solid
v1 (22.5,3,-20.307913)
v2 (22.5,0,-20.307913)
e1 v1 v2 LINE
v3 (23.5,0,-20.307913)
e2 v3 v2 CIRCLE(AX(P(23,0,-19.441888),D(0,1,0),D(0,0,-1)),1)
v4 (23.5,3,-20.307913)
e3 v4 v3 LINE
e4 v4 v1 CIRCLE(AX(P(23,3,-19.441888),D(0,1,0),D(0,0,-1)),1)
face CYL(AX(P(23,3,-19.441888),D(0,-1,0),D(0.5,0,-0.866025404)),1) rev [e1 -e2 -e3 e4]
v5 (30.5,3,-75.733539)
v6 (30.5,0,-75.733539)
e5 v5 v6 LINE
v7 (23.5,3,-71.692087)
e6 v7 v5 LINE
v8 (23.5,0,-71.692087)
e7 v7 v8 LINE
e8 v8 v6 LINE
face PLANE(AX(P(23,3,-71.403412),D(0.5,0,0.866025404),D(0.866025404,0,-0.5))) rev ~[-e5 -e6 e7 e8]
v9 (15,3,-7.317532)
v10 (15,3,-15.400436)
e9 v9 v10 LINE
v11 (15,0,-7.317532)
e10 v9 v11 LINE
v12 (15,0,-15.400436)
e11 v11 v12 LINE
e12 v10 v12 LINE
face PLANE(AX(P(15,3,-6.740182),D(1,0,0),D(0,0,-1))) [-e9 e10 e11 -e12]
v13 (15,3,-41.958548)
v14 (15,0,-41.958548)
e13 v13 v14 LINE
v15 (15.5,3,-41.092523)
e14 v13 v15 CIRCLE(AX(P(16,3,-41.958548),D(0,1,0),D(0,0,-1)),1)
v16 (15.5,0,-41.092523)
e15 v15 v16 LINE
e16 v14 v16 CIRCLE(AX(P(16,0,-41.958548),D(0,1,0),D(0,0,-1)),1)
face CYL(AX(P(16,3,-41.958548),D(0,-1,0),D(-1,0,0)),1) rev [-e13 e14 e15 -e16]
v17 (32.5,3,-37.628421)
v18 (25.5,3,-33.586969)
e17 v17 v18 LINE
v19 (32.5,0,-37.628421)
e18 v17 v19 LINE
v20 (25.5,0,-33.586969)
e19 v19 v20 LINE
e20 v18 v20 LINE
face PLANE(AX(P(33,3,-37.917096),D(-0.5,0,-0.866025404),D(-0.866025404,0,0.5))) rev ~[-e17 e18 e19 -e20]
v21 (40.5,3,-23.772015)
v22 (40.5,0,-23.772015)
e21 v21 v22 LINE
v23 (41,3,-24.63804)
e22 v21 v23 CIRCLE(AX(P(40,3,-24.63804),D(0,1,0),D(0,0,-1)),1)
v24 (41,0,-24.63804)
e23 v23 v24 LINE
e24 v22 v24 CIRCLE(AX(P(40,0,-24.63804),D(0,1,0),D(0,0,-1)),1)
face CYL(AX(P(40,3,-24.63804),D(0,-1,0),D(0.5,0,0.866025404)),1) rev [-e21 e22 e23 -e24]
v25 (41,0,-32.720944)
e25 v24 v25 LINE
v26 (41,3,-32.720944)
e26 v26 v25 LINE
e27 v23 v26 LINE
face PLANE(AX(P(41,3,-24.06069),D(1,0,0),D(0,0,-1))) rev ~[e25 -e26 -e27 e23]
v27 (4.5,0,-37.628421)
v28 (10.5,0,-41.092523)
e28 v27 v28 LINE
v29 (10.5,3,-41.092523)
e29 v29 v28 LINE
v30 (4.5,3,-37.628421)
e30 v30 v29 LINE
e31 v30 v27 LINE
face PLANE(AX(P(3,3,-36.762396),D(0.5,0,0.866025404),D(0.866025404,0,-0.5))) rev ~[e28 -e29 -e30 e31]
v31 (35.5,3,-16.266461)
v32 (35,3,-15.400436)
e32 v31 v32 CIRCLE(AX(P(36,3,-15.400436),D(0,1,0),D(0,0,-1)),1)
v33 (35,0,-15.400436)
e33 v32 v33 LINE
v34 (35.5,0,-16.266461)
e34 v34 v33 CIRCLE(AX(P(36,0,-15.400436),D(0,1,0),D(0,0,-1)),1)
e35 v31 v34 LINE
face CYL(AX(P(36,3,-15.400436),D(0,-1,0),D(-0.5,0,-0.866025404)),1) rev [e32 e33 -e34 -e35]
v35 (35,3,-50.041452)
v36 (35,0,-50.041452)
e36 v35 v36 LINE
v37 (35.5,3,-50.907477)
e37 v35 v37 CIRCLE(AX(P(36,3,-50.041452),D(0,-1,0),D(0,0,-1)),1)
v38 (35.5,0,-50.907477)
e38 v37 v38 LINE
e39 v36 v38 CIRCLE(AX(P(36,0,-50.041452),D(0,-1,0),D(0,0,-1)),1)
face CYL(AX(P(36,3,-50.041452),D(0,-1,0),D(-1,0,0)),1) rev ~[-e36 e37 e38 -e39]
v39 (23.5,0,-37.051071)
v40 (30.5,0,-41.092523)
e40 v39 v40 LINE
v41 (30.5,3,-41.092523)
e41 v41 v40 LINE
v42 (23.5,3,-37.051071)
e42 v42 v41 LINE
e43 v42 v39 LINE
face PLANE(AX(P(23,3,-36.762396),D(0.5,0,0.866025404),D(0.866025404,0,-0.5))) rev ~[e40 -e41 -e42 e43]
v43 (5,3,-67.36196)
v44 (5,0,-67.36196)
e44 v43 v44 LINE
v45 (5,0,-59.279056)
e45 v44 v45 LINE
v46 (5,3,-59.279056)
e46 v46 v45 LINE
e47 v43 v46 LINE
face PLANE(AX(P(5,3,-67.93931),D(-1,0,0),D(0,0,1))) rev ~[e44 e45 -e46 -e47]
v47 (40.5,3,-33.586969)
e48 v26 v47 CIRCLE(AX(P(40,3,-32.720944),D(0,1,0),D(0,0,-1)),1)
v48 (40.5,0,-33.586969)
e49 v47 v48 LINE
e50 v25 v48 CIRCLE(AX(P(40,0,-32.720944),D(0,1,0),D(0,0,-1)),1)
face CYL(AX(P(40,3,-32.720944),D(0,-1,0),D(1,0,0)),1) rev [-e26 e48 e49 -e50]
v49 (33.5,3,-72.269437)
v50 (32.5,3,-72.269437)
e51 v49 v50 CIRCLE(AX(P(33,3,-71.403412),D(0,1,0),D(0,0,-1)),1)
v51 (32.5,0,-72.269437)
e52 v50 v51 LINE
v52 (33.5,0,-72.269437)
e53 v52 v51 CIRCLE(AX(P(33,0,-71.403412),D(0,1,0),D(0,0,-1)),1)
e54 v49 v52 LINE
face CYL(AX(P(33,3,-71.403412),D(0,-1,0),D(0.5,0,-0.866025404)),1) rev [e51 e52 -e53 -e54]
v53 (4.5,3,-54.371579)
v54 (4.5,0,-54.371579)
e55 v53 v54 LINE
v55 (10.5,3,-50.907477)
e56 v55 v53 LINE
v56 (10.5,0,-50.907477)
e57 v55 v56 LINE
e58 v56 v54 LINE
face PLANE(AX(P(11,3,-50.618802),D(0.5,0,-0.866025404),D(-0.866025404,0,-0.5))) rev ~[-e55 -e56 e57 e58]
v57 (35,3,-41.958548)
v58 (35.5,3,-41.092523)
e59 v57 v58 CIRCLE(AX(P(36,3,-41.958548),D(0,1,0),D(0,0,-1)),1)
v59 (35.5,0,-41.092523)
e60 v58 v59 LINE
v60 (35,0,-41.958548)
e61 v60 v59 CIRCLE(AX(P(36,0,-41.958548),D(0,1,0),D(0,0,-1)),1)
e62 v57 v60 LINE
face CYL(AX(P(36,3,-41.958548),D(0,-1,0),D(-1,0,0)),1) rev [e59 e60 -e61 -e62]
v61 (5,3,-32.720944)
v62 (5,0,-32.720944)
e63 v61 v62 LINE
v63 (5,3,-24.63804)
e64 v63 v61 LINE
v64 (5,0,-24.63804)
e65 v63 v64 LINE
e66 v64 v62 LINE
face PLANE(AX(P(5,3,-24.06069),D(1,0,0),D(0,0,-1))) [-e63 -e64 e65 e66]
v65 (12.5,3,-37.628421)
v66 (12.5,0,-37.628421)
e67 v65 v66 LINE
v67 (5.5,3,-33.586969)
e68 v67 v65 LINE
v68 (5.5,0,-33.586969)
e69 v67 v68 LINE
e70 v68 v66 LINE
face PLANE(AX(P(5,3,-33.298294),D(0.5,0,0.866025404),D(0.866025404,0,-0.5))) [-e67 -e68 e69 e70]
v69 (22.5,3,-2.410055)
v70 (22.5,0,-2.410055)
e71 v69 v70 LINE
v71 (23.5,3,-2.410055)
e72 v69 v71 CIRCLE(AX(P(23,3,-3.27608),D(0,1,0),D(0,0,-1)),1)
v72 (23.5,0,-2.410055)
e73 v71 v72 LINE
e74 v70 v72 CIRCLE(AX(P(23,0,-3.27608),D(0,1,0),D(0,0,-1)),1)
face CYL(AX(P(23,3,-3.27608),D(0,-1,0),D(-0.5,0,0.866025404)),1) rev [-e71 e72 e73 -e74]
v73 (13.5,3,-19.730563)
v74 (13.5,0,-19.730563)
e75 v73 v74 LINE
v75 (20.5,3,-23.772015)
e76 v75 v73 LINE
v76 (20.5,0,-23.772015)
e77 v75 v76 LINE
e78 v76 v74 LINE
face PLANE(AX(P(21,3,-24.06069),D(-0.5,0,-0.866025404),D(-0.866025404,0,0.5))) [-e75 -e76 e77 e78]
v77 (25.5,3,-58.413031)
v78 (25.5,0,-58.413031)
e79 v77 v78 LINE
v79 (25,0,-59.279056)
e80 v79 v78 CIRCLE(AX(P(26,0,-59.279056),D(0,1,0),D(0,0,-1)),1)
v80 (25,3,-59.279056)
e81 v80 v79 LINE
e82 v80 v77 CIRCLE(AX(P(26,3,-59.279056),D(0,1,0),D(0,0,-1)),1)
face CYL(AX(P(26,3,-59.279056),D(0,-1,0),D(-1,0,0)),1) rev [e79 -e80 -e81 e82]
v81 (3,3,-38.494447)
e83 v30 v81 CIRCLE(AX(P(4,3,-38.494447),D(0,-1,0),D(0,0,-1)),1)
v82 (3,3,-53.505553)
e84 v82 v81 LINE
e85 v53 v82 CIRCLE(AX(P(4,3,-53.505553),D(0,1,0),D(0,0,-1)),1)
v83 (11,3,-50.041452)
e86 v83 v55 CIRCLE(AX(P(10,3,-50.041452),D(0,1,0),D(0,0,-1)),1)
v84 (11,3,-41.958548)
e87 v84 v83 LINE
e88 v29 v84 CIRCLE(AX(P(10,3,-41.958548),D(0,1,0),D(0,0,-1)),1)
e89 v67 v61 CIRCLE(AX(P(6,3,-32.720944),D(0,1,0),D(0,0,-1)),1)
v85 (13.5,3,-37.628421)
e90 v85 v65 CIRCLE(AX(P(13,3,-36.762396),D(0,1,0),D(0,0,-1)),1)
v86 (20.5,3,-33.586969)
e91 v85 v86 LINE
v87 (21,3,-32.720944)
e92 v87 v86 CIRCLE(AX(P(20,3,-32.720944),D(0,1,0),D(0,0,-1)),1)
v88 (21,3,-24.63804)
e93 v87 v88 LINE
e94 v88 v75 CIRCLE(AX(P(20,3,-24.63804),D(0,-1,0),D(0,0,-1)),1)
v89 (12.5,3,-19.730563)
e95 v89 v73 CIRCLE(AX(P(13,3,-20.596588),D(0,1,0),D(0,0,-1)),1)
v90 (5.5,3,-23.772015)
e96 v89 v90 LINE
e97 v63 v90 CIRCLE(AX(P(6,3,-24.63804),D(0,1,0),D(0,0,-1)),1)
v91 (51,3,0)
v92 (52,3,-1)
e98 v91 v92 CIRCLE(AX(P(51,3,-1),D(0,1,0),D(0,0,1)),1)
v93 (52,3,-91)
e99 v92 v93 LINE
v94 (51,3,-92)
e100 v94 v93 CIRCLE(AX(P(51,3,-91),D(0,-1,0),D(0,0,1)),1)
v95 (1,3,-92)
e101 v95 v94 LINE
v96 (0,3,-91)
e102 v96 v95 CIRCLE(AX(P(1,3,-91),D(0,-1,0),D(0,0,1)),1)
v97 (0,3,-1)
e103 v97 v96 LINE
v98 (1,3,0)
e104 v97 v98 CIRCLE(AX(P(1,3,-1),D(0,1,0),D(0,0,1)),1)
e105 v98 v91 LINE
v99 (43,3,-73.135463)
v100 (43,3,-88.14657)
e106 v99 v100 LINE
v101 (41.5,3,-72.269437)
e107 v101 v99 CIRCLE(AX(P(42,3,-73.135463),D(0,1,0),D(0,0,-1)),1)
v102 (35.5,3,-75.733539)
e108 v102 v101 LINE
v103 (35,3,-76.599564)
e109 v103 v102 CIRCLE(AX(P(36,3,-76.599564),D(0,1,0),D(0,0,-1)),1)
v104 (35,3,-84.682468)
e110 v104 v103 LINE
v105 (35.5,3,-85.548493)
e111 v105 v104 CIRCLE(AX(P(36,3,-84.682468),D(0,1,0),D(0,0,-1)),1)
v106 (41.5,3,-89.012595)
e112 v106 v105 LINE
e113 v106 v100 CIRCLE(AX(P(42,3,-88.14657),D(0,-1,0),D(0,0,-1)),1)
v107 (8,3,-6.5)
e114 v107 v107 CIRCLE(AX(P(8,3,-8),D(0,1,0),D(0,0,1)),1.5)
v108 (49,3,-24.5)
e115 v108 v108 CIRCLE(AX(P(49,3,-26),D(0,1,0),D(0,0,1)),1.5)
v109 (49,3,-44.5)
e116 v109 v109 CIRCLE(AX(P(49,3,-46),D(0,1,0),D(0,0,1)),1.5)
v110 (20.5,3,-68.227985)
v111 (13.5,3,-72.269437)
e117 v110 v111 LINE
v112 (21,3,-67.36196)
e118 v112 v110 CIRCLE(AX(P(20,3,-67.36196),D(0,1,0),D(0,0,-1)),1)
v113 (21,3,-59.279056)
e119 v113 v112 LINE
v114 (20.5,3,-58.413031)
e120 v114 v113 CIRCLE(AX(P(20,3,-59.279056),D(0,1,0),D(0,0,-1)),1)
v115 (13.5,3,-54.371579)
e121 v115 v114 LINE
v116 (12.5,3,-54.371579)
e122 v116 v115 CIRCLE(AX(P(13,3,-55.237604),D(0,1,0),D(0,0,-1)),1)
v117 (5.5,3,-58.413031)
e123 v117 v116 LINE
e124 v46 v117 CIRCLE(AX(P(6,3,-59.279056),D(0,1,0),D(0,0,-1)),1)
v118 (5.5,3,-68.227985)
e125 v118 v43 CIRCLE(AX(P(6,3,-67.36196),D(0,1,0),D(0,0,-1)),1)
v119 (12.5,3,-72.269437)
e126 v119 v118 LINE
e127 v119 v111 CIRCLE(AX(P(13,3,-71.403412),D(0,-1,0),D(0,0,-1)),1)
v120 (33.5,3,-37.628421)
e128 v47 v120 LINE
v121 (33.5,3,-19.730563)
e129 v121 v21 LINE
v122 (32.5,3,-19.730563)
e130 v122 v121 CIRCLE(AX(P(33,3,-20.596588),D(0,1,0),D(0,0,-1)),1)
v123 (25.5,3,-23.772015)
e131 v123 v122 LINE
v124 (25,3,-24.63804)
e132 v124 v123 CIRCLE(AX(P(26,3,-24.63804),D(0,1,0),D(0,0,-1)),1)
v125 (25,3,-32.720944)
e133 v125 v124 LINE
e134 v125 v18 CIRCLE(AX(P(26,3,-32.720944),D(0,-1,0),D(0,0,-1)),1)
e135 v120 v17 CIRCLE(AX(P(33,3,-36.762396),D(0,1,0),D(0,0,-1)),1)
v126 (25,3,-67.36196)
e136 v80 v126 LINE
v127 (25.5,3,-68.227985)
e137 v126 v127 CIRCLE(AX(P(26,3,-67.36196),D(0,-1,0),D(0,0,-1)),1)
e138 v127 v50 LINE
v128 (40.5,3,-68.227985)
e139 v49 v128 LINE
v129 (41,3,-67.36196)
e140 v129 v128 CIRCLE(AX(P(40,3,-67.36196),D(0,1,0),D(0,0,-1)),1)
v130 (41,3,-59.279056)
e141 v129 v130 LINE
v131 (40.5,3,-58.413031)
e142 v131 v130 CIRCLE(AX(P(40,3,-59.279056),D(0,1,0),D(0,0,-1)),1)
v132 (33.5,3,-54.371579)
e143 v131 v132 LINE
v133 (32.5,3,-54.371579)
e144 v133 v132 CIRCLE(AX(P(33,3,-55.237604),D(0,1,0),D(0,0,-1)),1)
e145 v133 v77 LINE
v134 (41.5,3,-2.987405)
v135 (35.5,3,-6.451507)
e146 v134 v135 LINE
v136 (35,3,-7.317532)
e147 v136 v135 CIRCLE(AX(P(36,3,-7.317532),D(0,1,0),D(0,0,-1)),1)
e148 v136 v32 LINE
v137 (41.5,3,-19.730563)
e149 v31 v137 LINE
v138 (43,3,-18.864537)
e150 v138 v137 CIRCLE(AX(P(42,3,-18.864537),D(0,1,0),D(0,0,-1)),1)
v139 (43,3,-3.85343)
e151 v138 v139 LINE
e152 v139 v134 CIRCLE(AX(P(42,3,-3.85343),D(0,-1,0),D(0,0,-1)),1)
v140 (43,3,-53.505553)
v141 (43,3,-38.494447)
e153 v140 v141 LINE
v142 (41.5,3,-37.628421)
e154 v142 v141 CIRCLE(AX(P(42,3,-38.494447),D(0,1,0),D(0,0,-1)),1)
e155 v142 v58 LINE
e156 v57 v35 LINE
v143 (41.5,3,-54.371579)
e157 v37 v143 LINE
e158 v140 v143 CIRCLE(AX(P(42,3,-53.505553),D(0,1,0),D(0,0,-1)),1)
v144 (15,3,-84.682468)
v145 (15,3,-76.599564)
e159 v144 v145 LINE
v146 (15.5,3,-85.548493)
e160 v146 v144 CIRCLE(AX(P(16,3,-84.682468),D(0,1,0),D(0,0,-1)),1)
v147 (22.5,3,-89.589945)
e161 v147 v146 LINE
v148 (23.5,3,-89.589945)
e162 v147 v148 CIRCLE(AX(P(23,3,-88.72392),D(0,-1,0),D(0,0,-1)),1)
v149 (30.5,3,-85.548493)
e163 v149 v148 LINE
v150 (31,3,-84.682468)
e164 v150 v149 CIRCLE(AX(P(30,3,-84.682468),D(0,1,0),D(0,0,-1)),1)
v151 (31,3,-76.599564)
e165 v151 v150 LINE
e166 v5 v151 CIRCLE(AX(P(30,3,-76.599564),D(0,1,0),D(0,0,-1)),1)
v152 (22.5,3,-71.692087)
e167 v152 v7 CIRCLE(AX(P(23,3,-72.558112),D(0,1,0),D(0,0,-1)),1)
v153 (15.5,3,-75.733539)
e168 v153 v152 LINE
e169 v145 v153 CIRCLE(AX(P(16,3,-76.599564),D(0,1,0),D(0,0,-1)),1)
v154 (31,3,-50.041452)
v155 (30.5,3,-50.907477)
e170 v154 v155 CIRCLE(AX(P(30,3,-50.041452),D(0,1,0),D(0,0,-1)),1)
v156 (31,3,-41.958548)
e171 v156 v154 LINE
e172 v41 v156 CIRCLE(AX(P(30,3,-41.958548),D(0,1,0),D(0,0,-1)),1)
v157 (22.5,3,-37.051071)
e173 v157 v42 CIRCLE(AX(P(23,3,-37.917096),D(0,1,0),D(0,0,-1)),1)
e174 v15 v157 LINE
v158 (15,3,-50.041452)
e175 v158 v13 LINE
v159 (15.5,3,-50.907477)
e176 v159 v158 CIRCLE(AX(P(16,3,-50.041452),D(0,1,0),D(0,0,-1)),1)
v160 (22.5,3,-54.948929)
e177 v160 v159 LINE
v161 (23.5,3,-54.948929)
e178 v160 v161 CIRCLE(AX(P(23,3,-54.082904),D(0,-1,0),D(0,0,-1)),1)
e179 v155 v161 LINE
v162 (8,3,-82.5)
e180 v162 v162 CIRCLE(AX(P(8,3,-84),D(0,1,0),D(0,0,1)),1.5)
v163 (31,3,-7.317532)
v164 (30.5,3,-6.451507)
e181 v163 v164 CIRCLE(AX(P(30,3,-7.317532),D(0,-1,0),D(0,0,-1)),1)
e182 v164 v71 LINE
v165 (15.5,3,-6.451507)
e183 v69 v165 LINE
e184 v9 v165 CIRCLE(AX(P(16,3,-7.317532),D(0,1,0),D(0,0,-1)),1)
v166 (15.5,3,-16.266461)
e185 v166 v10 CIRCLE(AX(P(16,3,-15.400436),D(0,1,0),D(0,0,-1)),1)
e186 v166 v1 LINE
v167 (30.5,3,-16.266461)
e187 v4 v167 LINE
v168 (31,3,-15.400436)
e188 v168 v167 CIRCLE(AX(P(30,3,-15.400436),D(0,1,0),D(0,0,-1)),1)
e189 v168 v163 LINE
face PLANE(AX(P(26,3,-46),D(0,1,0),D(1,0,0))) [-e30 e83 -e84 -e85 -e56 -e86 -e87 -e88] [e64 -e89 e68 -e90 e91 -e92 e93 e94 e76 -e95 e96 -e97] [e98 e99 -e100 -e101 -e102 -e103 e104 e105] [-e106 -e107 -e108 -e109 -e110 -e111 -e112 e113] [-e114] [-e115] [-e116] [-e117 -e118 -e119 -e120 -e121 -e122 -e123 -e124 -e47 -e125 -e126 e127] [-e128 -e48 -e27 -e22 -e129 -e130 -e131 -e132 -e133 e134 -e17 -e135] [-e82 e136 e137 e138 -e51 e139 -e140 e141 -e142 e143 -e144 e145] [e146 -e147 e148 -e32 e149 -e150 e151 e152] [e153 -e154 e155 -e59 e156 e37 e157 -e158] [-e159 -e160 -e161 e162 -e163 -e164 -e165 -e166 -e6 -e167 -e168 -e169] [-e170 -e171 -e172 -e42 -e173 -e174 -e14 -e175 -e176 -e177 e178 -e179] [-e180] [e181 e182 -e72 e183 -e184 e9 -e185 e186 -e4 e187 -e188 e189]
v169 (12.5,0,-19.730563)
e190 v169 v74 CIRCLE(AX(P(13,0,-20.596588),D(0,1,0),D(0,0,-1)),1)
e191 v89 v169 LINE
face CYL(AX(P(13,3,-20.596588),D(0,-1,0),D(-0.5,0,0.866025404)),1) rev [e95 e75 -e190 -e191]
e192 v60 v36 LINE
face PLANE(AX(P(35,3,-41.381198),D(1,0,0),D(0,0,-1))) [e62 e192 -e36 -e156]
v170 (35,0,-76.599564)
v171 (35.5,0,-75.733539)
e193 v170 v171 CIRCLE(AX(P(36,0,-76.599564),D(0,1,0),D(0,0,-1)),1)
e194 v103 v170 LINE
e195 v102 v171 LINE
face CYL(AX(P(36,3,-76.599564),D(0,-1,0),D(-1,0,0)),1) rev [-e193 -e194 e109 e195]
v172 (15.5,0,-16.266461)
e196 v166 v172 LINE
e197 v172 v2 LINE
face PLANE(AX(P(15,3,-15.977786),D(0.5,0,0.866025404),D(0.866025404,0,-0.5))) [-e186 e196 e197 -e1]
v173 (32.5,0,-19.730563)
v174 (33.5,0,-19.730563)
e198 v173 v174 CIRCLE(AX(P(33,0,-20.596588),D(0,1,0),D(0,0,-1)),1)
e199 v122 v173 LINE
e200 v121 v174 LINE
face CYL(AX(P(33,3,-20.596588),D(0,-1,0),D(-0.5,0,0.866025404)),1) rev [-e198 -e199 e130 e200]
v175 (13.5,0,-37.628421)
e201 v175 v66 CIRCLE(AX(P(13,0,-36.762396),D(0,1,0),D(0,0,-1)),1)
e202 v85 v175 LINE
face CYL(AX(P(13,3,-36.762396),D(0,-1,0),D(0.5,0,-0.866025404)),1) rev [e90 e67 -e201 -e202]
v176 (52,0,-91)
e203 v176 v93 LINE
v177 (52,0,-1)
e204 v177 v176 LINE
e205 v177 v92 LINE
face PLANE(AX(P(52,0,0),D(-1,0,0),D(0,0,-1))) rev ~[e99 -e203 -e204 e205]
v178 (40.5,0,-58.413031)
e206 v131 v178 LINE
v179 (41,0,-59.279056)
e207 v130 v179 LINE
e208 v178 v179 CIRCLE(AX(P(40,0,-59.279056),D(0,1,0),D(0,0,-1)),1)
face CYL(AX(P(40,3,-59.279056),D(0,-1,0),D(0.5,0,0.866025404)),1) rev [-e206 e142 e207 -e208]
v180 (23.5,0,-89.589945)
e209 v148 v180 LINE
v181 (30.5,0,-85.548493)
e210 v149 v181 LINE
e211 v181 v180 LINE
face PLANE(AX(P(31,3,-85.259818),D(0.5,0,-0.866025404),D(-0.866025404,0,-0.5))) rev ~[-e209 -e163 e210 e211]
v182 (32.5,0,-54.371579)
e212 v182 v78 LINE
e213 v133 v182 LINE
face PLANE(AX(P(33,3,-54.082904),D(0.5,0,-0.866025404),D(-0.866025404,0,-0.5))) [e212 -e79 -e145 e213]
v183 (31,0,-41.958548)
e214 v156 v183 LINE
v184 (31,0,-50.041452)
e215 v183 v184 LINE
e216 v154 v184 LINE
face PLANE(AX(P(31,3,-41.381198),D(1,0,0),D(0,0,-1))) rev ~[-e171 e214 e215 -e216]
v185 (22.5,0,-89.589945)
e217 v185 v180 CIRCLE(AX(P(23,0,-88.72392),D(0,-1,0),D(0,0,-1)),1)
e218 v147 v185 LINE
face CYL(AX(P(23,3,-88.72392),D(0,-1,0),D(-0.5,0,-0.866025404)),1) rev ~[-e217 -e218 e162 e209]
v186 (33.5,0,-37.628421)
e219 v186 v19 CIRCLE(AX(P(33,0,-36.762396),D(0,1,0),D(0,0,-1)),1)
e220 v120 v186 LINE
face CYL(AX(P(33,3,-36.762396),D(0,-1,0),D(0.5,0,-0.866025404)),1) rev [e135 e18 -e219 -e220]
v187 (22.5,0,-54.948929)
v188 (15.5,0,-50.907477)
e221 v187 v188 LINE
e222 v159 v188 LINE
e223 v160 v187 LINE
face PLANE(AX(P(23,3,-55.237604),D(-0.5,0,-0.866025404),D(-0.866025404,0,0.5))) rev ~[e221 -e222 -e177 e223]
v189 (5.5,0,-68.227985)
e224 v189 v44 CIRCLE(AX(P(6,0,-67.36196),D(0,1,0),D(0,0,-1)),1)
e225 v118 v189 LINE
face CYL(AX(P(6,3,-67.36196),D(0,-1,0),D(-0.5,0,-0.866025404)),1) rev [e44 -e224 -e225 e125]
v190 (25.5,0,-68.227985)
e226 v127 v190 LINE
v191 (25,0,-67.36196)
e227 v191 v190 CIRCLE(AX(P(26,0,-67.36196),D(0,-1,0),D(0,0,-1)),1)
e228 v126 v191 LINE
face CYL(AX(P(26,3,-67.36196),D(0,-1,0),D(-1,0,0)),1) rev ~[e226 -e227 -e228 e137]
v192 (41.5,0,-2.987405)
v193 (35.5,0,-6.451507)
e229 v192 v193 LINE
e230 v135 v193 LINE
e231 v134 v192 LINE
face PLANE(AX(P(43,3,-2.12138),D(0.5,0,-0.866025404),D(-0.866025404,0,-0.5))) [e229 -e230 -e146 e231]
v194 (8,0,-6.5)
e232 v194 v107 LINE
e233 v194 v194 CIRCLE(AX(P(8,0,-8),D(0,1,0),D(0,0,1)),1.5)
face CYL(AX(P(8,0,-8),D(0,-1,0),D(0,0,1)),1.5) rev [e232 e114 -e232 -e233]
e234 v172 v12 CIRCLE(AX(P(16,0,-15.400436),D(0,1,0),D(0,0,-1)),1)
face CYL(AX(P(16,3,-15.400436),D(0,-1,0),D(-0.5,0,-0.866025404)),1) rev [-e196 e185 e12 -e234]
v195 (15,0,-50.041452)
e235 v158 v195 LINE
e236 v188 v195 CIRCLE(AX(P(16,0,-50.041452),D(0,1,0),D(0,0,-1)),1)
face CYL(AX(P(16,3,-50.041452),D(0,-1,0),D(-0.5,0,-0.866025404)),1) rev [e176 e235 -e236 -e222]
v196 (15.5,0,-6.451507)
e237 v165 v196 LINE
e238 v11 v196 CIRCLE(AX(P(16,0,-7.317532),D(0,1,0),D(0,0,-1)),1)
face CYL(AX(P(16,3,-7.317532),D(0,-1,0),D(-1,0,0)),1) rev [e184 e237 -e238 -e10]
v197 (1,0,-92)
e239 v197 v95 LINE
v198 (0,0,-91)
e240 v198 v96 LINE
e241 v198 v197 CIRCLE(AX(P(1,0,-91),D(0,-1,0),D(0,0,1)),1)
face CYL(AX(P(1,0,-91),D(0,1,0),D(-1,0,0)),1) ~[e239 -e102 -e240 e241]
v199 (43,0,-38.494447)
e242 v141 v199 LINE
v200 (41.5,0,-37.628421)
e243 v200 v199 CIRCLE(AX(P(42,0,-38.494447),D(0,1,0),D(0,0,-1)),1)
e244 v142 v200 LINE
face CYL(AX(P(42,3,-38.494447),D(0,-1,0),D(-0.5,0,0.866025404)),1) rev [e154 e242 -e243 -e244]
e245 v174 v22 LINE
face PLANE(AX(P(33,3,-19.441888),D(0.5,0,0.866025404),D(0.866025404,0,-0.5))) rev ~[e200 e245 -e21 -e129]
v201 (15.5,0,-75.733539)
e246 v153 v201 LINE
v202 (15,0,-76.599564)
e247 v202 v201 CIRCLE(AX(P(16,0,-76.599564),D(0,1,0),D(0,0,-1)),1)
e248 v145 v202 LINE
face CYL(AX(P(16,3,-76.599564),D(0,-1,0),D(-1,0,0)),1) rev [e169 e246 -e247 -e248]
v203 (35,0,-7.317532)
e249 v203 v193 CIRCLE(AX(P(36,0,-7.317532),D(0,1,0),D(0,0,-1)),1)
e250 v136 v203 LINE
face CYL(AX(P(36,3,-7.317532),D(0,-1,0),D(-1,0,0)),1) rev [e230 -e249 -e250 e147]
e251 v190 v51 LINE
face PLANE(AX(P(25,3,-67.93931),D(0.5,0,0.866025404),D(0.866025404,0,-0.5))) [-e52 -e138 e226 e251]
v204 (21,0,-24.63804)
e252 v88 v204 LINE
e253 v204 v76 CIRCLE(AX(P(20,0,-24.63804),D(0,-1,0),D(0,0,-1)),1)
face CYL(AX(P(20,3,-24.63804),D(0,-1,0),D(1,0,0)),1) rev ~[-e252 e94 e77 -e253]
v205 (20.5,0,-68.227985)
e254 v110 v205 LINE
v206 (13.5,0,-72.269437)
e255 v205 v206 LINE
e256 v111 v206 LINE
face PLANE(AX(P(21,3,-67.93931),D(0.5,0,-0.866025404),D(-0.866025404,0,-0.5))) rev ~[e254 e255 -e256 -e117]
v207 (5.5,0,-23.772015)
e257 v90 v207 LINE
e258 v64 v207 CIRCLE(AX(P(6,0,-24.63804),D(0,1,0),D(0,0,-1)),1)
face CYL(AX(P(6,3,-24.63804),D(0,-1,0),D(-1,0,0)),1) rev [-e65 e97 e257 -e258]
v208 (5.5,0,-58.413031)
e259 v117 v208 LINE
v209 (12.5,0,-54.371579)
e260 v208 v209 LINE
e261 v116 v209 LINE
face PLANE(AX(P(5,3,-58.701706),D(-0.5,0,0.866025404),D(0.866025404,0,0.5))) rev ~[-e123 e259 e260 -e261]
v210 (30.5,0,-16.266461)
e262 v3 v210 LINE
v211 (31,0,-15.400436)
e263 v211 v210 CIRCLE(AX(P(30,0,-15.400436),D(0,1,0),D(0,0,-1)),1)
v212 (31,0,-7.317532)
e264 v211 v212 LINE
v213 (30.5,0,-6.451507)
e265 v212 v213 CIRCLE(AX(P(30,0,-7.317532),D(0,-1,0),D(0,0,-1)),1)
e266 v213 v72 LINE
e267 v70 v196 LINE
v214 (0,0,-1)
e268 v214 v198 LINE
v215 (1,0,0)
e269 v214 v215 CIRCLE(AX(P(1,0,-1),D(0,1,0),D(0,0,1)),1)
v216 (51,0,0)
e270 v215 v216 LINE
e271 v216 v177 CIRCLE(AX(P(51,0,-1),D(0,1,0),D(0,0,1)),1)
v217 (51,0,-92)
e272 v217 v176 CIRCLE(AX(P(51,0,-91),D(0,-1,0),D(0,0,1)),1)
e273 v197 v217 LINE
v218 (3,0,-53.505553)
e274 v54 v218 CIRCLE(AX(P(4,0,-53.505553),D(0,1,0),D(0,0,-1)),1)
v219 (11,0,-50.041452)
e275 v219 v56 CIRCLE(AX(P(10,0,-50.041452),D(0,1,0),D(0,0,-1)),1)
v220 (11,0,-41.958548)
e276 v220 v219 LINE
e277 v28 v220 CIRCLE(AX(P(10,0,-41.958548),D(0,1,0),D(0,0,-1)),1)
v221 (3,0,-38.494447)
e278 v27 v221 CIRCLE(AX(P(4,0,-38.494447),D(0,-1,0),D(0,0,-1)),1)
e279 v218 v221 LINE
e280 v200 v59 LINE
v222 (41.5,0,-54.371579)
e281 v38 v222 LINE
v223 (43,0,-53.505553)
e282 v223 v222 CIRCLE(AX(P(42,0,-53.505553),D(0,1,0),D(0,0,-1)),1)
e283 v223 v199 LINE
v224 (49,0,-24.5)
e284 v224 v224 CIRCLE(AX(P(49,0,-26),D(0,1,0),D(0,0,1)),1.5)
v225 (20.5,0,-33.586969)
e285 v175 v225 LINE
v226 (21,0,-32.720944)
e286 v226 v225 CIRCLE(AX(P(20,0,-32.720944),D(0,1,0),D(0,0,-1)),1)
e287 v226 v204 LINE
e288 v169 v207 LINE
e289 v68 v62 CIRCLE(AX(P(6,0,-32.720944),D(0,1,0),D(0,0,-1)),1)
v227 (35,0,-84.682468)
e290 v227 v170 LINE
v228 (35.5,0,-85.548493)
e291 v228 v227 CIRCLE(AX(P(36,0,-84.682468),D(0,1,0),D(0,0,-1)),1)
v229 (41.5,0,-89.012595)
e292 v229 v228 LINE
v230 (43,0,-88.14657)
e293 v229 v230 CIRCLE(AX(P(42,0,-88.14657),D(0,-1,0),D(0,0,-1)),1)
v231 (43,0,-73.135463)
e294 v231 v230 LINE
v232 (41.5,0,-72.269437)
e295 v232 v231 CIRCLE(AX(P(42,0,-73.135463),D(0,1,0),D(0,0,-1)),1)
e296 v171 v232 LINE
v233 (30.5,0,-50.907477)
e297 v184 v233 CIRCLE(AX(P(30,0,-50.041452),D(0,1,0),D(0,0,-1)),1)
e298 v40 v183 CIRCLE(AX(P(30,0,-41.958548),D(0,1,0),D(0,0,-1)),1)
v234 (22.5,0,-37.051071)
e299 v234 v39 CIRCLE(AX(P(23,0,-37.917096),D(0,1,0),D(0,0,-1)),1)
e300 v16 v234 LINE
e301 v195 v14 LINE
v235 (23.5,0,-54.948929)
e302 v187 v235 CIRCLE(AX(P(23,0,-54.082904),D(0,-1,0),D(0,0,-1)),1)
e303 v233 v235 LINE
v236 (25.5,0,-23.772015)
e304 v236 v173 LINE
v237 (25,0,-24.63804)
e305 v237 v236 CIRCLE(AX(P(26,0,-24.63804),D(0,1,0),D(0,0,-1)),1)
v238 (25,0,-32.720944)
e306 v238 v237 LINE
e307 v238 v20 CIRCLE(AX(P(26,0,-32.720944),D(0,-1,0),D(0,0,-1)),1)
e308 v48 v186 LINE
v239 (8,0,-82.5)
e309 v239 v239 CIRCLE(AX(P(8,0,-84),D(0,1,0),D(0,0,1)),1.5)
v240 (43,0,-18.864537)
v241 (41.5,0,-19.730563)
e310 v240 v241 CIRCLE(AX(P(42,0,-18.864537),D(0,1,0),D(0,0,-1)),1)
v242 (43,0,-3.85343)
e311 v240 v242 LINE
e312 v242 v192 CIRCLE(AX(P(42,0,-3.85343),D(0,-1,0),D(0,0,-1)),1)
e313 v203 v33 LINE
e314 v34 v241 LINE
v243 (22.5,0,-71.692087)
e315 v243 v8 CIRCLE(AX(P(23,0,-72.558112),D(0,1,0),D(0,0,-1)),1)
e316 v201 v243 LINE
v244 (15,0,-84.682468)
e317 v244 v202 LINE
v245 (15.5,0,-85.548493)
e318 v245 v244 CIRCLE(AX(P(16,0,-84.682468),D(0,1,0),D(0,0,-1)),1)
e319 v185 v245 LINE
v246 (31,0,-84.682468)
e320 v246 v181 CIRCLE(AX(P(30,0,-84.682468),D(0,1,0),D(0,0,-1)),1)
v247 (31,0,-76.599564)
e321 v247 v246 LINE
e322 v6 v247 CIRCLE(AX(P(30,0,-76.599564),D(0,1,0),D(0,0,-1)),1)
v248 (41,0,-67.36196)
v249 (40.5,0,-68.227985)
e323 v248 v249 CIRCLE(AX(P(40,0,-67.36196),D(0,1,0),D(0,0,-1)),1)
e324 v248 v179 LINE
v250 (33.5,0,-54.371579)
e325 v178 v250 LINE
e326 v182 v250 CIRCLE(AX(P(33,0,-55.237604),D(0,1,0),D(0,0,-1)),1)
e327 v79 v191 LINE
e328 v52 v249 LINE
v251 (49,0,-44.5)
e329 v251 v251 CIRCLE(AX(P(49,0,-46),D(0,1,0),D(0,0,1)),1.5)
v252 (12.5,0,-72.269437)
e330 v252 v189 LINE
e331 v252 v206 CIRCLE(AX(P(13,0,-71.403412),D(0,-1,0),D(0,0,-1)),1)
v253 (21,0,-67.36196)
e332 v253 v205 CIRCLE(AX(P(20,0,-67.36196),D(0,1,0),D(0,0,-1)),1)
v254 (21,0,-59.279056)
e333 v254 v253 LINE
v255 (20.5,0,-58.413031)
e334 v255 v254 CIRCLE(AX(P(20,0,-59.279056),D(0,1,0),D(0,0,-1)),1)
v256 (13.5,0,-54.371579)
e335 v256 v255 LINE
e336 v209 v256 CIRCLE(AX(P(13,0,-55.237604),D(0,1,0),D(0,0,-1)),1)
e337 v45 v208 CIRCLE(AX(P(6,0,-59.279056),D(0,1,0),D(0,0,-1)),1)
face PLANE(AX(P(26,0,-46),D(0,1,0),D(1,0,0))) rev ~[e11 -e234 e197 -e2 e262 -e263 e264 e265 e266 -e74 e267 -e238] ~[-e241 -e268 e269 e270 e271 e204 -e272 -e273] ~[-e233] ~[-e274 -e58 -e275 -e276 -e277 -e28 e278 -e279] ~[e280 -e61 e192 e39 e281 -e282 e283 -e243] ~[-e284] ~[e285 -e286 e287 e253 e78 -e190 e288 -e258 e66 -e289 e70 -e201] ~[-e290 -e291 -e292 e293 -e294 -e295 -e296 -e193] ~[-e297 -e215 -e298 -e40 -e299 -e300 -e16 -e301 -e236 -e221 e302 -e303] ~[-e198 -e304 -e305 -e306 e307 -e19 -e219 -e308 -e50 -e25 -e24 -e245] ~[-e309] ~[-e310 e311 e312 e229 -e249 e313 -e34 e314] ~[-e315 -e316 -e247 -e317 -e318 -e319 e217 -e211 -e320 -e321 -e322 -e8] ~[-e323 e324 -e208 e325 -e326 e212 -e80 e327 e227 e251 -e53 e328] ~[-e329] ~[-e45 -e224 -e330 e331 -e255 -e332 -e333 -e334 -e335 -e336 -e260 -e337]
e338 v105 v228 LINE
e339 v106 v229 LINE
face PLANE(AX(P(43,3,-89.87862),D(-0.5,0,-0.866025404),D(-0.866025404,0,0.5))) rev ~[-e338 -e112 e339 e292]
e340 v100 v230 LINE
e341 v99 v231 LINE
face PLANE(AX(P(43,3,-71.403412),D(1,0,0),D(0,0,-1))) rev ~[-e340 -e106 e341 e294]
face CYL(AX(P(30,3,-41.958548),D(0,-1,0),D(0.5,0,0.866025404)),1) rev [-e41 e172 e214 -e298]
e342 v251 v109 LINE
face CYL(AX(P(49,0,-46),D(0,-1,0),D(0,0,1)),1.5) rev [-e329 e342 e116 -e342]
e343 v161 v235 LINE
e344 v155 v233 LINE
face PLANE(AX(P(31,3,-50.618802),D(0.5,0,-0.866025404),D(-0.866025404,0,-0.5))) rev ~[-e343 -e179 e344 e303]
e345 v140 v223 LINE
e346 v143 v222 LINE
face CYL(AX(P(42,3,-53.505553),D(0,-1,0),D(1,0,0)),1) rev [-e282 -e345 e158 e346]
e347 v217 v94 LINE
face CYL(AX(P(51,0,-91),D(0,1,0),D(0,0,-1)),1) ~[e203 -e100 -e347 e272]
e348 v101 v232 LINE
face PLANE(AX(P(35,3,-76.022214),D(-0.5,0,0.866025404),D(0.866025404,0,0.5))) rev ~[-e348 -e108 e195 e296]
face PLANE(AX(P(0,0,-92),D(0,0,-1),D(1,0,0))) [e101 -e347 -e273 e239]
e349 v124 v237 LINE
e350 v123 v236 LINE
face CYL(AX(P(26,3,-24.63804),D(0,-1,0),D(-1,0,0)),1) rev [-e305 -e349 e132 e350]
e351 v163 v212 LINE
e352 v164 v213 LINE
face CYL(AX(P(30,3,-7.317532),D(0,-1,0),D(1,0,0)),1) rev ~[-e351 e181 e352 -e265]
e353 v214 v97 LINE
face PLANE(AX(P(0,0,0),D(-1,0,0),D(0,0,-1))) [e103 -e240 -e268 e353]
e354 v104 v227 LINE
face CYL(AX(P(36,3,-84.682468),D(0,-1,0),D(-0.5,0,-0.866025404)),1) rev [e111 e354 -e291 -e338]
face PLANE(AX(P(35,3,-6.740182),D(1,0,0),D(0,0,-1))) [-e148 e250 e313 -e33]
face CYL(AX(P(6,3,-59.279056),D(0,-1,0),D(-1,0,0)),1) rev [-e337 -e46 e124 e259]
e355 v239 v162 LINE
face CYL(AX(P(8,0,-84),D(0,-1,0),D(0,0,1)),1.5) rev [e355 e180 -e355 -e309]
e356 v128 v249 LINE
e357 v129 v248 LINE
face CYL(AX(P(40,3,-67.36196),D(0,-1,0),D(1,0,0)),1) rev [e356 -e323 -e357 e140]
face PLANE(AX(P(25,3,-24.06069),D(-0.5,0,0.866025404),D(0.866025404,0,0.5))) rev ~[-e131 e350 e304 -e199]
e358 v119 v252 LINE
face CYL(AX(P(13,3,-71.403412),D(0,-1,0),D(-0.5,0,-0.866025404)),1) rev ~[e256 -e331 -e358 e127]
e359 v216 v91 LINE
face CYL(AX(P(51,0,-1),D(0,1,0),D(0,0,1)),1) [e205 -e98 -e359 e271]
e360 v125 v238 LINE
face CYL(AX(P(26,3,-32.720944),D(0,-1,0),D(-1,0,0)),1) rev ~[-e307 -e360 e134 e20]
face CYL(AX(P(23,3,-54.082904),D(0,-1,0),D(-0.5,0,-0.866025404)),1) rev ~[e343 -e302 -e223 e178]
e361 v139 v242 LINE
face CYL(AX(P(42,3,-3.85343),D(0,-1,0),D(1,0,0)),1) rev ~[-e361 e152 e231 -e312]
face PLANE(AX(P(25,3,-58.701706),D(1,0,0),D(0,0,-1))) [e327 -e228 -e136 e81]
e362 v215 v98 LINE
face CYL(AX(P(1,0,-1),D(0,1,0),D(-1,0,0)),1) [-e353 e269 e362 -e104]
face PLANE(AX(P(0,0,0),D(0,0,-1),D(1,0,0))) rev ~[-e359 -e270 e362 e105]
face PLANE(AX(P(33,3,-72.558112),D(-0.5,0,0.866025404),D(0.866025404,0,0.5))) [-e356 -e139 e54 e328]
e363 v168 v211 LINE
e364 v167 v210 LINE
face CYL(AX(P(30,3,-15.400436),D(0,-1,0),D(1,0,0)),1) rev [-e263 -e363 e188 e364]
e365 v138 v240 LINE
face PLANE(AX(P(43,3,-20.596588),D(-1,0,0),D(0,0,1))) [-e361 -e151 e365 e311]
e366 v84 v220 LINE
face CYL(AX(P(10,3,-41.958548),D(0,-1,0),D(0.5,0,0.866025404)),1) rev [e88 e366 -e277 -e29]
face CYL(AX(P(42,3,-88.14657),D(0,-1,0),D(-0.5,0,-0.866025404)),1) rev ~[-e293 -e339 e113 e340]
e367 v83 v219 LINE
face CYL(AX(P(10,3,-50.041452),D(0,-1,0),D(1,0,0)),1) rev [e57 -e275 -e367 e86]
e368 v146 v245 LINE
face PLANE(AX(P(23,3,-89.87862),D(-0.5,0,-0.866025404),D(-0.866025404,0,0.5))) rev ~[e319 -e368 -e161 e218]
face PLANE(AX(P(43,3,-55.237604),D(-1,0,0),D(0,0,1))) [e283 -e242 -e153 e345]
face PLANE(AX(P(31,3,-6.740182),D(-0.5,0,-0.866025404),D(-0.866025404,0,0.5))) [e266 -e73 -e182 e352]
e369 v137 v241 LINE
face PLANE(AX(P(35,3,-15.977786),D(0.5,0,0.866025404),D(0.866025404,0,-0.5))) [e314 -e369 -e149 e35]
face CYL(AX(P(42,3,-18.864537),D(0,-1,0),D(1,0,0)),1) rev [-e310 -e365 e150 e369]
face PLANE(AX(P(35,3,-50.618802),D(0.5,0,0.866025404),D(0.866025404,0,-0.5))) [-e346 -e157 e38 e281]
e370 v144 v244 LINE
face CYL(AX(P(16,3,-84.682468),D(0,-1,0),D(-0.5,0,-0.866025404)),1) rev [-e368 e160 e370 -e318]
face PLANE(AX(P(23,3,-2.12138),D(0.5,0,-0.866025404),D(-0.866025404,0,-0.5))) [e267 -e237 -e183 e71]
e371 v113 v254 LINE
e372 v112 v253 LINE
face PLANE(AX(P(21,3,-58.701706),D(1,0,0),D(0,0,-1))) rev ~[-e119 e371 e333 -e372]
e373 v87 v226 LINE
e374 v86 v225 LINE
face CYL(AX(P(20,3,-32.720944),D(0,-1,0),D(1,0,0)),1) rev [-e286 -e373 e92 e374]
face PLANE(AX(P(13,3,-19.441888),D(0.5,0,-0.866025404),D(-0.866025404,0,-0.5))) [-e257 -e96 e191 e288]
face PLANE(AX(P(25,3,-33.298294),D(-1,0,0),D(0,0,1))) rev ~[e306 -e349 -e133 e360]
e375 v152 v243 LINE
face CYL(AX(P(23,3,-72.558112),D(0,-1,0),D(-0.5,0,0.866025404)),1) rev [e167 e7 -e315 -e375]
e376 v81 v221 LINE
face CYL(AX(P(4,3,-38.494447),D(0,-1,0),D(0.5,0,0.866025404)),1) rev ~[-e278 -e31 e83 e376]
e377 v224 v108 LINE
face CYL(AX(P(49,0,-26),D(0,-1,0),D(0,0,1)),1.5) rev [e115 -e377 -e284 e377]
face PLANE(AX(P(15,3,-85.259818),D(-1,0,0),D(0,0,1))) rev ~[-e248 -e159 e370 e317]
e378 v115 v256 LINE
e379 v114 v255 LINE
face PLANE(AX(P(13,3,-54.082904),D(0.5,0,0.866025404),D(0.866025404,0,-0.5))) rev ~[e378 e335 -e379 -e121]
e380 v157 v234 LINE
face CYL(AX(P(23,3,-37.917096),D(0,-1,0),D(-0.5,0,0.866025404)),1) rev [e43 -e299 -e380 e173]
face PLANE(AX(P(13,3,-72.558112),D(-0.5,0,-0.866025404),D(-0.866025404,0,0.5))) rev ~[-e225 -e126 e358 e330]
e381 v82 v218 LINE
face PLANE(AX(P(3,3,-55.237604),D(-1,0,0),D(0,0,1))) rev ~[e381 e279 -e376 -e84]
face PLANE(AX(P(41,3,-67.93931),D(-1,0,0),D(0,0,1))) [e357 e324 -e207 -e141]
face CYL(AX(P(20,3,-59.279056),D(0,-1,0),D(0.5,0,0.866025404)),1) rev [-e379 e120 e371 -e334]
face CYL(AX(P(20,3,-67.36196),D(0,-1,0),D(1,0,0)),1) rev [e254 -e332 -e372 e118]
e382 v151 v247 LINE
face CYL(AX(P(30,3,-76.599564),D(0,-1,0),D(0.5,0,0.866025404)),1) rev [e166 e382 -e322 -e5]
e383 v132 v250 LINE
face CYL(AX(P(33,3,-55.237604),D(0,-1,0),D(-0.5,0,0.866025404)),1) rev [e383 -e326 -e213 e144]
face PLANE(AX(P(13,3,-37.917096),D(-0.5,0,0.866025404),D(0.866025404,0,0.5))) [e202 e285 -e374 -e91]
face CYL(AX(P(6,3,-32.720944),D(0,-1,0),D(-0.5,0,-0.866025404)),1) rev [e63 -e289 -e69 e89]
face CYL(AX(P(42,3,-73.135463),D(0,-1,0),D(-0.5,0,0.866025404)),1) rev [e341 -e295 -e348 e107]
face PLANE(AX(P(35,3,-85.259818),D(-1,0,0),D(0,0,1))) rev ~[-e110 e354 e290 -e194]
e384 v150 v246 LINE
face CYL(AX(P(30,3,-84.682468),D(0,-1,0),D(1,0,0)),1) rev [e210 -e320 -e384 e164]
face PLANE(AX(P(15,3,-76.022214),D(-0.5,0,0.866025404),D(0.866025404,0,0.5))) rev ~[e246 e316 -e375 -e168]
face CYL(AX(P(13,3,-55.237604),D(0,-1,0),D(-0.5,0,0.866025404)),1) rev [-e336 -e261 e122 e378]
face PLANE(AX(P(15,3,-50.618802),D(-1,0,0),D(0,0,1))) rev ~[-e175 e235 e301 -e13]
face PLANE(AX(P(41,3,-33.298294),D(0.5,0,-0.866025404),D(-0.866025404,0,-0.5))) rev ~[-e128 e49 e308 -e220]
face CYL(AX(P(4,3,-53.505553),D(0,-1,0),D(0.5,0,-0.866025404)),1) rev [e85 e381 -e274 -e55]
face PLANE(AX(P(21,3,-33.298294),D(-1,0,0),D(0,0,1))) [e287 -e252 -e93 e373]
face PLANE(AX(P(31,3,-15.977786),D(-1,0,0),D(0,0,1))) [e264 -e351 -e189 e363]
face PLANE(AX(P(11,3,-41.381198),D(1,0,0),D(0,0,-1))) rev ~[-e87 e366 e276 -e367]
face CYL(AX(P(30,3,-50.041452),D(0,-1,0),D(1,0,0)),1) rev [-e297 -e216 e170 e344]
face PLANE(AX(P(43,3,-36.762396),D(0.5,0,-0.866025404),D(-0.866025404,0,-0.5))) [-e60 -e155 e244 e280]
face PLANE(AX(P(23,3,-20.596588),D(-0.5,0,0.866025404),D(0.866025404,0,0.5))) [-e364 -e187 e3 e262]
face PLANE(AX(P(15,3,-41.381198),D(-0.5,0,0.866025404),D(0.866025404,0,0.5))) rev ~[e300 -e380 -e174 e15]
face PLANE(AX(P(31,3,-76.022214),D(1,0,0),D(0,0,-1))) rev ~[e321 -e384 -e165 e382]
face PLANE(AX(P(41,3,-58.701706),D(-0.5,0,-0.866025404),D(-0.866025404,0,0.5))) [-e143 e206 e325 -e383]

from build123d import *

# Parameters (mm, degrees)
SKETCH_1_W          = 52
SKETCH_1_H          = 92
SKETCH_1_R          = 1.5
EXTRUDE_1_DEPTH     = 3
FILLET_1_R          = 1
CUT_EXTRUDE_1_DEPTH = 10
FILLET_2_R          = 1


with BuildPart() as part:
    # 草图1 → 凸台-拉伸1 (new body)
    with BuildSketch(Plane(origin=(0, 0, 0), x_dir=(1, 0, 0), z_dir=(0, 1, 0))):
        with Locations((26, 46)):
            Rectangle(SKETCH_1_W, SKETCH_1_H)
        with Locations(Location((49, 46, 0), (0, 0, 270))):
            Circle(SKETCH_1_R, mode=Mode.SUBTRACT)
        with Locations(Location((49, 26, 0), (0, 0, 270))):
            Circle(SKETCH_1_R, mode=Mode.SUBTRACT)
        with Locations(Location((8, 84, 0), (0, 0, 270))):
            Circle(SKETCH_1_R, mode=Mode.SUBTRACT)
        with Locations(Location((8, 8, 0), (0, 0, 270))):
            Circle(SKETCH_1_R, mode=Mode.SUBTRACT)
    extrude(amount=EXTRUDE_1_DEPTH)

    # 圆角1
    fillet_1_edges = [part.edges().sort_by_distance(p)[0] for p in [
        (0, 1.5, -92),
        (52, 1.5, -92),
        (52, 1.5, 0),
        (0, 1.5, 0),
    ]]
    fillet(fillet_1_edges, radius=FILLET_1_R)

    # 草图2 → 切除-拉伸1 (cut)
    with BuildSketch(Plane(origin=(0, 3, 0), x_dir=(1, 0, 0), z_dir=(0, 1, 0))):
        Polygon((23, 89.878620458), (15, 85.259818305), (15, 76.022213998), (23, 71.403411844), (31, 76.022213998), (31, 85.259818305), align=None)
        Polygon((13, 72.558112383), (5, 67.939310229), (5, 58.701705922), (13, 54.082903769), (21, 58.701705922), (21, 67.939310229), align=None)
        Polygon((43, 89.878620458), (35, 85.259818305), (35, 76.022213998), (43, 71.403411844), align=None)
        Polygon((23, 55.237604307), (15, 50.618802154), (15, 41.381197846), (23, 36.762395693), (31, 41.381197846), (31, 50.618802154), align=None)
        Polygon((3, 36.762395693), (11, 41.381197846), (11, 50.618802154), (3, 55.237604307), align=None)
        Polygon((35, 50.618802154), (43, 55.237604307), (43, 36.762395693), (35, 41.381197846), align=None)
        Polygon((25, 67.939310229), (33, 72.558112383), (41, 67.939310229), (41, 58.701705922), (33, 54.082903769), (25, 58.701705922), align=None)
        Polygon((21, 24.060689771), (13, 19.441887617), (5, 24.060689771), (5, 33.298294078), (13, 37.917096231), (21, 33.298294078), align=None)
        Polygon((25, 33.298294078), (25, 24.060689771), (33, 19.441887617), (41, 24.060689771), (41, 33.298294078), (33, 37.917096231), align=None)
        Polygon((43, 2.121379542), (35, 6.740181695), (35, 15.977786002), (43, 20.596588156), align=None)
        Polygon((31, 6.740181695), (23, 2.121379542), (15, 6.740181695), (15, 15.977786002), (23, 20.596588156), (31, 15.977786002), align=None)
    extrude(amount=-CUT_EXTRUDE_1_DEPTH, mode=Mode.SUBTRACT)

    # 圆角2
    fillet_2_edges = [part.edges().sort_by_distance(p)[0] for p in [
        (23, 1.5, -55.237604307),
        (31, 1.5, -50.618802154),
        (31, 1.5, -41.381197846),
        (23, 1.5, -36.762395693),
        (15, 1.5, -41.381197846),
        (15, 1.5, -50.618802154),
        (25, 1.5, -58.701705922),
        (25, 1.5, -67.939310229),
        (33, 1.5, -72.558112383),
        (41, 1.5, -67.939310229),
        (41, 1.5, -58.701705922),
        (33, 1.5, -54.082903769),
        (3, 1.5, -36.762395693),
        (3, 1.5, -55.237604307),
        (11, 1.5, -50.618802154),
        (11, 1.5, -41.381197846),
        (25, 1.5, -33.298294078),
        (33, 1.5, -37.917096231),
        (41, 1.5, -33.298294078),
        (41, 1.5, -24.060689771),
        (33, 1.5, -19.441887617),
        (25, 1.5, -24.060689771),
        (13, 1.5, -72.558112383),
        (21, 1.5, -67.939310229),
        (21, 1.5, -58.701705922),
        (13, 1.5, -54.082903769),
        (5, 1.5, -58.701705922),
        (5, 1.5, -67.939310229),
        (43, 1.5, -89.878620458),
        (43, 1.5, -71.403411844),
        (35, 1.5, -76.022213998),
        (35, 1.5, -85.259818305),
        (21, 1.5, -33.298294078),
        (21, 1.5, -24.060689771),
        (13, 1.5, -19.441887617),
        (5, 1.5, -24.060689771),
        (5, 1.5, -33.298294078),
        (13, 1.5, -37.917096231),
        (35, 1.5, -41.381197846),
        (35, 1.5, -50.618802154),
        (43, 1.5, -55.237604307),
        (43, 1.5, -36.762395693),
        (43, 1.5, -20.596588156),
        (43, 1.5, -2.121379542),
        (35, 1.5, -6.740181695),
        (35, 1.5, -15.977786002),
        (31, 1.5, -15.977786002),
        (31, 1.5, -6.740181695),
        (23, 1.5, -2.121379542),
        (15, 1.5, -6.740181695),
        (15, 1.5, -15.977786002),
        (23, 1.5, -20.596588156),
        (23, 1.5, -89.878620458),
        (31, 1.5, -85.259818305),
        (31, 1.5, -76.022213998),
        (23, 1.5, -71.403411844),
        (15, 1.5, -76.022213998),
        (15, 1.5, -85.259818305),
    ]]
    fillet(fillet_2_edges, radius=FILLET_2_R)


solid = part.part
